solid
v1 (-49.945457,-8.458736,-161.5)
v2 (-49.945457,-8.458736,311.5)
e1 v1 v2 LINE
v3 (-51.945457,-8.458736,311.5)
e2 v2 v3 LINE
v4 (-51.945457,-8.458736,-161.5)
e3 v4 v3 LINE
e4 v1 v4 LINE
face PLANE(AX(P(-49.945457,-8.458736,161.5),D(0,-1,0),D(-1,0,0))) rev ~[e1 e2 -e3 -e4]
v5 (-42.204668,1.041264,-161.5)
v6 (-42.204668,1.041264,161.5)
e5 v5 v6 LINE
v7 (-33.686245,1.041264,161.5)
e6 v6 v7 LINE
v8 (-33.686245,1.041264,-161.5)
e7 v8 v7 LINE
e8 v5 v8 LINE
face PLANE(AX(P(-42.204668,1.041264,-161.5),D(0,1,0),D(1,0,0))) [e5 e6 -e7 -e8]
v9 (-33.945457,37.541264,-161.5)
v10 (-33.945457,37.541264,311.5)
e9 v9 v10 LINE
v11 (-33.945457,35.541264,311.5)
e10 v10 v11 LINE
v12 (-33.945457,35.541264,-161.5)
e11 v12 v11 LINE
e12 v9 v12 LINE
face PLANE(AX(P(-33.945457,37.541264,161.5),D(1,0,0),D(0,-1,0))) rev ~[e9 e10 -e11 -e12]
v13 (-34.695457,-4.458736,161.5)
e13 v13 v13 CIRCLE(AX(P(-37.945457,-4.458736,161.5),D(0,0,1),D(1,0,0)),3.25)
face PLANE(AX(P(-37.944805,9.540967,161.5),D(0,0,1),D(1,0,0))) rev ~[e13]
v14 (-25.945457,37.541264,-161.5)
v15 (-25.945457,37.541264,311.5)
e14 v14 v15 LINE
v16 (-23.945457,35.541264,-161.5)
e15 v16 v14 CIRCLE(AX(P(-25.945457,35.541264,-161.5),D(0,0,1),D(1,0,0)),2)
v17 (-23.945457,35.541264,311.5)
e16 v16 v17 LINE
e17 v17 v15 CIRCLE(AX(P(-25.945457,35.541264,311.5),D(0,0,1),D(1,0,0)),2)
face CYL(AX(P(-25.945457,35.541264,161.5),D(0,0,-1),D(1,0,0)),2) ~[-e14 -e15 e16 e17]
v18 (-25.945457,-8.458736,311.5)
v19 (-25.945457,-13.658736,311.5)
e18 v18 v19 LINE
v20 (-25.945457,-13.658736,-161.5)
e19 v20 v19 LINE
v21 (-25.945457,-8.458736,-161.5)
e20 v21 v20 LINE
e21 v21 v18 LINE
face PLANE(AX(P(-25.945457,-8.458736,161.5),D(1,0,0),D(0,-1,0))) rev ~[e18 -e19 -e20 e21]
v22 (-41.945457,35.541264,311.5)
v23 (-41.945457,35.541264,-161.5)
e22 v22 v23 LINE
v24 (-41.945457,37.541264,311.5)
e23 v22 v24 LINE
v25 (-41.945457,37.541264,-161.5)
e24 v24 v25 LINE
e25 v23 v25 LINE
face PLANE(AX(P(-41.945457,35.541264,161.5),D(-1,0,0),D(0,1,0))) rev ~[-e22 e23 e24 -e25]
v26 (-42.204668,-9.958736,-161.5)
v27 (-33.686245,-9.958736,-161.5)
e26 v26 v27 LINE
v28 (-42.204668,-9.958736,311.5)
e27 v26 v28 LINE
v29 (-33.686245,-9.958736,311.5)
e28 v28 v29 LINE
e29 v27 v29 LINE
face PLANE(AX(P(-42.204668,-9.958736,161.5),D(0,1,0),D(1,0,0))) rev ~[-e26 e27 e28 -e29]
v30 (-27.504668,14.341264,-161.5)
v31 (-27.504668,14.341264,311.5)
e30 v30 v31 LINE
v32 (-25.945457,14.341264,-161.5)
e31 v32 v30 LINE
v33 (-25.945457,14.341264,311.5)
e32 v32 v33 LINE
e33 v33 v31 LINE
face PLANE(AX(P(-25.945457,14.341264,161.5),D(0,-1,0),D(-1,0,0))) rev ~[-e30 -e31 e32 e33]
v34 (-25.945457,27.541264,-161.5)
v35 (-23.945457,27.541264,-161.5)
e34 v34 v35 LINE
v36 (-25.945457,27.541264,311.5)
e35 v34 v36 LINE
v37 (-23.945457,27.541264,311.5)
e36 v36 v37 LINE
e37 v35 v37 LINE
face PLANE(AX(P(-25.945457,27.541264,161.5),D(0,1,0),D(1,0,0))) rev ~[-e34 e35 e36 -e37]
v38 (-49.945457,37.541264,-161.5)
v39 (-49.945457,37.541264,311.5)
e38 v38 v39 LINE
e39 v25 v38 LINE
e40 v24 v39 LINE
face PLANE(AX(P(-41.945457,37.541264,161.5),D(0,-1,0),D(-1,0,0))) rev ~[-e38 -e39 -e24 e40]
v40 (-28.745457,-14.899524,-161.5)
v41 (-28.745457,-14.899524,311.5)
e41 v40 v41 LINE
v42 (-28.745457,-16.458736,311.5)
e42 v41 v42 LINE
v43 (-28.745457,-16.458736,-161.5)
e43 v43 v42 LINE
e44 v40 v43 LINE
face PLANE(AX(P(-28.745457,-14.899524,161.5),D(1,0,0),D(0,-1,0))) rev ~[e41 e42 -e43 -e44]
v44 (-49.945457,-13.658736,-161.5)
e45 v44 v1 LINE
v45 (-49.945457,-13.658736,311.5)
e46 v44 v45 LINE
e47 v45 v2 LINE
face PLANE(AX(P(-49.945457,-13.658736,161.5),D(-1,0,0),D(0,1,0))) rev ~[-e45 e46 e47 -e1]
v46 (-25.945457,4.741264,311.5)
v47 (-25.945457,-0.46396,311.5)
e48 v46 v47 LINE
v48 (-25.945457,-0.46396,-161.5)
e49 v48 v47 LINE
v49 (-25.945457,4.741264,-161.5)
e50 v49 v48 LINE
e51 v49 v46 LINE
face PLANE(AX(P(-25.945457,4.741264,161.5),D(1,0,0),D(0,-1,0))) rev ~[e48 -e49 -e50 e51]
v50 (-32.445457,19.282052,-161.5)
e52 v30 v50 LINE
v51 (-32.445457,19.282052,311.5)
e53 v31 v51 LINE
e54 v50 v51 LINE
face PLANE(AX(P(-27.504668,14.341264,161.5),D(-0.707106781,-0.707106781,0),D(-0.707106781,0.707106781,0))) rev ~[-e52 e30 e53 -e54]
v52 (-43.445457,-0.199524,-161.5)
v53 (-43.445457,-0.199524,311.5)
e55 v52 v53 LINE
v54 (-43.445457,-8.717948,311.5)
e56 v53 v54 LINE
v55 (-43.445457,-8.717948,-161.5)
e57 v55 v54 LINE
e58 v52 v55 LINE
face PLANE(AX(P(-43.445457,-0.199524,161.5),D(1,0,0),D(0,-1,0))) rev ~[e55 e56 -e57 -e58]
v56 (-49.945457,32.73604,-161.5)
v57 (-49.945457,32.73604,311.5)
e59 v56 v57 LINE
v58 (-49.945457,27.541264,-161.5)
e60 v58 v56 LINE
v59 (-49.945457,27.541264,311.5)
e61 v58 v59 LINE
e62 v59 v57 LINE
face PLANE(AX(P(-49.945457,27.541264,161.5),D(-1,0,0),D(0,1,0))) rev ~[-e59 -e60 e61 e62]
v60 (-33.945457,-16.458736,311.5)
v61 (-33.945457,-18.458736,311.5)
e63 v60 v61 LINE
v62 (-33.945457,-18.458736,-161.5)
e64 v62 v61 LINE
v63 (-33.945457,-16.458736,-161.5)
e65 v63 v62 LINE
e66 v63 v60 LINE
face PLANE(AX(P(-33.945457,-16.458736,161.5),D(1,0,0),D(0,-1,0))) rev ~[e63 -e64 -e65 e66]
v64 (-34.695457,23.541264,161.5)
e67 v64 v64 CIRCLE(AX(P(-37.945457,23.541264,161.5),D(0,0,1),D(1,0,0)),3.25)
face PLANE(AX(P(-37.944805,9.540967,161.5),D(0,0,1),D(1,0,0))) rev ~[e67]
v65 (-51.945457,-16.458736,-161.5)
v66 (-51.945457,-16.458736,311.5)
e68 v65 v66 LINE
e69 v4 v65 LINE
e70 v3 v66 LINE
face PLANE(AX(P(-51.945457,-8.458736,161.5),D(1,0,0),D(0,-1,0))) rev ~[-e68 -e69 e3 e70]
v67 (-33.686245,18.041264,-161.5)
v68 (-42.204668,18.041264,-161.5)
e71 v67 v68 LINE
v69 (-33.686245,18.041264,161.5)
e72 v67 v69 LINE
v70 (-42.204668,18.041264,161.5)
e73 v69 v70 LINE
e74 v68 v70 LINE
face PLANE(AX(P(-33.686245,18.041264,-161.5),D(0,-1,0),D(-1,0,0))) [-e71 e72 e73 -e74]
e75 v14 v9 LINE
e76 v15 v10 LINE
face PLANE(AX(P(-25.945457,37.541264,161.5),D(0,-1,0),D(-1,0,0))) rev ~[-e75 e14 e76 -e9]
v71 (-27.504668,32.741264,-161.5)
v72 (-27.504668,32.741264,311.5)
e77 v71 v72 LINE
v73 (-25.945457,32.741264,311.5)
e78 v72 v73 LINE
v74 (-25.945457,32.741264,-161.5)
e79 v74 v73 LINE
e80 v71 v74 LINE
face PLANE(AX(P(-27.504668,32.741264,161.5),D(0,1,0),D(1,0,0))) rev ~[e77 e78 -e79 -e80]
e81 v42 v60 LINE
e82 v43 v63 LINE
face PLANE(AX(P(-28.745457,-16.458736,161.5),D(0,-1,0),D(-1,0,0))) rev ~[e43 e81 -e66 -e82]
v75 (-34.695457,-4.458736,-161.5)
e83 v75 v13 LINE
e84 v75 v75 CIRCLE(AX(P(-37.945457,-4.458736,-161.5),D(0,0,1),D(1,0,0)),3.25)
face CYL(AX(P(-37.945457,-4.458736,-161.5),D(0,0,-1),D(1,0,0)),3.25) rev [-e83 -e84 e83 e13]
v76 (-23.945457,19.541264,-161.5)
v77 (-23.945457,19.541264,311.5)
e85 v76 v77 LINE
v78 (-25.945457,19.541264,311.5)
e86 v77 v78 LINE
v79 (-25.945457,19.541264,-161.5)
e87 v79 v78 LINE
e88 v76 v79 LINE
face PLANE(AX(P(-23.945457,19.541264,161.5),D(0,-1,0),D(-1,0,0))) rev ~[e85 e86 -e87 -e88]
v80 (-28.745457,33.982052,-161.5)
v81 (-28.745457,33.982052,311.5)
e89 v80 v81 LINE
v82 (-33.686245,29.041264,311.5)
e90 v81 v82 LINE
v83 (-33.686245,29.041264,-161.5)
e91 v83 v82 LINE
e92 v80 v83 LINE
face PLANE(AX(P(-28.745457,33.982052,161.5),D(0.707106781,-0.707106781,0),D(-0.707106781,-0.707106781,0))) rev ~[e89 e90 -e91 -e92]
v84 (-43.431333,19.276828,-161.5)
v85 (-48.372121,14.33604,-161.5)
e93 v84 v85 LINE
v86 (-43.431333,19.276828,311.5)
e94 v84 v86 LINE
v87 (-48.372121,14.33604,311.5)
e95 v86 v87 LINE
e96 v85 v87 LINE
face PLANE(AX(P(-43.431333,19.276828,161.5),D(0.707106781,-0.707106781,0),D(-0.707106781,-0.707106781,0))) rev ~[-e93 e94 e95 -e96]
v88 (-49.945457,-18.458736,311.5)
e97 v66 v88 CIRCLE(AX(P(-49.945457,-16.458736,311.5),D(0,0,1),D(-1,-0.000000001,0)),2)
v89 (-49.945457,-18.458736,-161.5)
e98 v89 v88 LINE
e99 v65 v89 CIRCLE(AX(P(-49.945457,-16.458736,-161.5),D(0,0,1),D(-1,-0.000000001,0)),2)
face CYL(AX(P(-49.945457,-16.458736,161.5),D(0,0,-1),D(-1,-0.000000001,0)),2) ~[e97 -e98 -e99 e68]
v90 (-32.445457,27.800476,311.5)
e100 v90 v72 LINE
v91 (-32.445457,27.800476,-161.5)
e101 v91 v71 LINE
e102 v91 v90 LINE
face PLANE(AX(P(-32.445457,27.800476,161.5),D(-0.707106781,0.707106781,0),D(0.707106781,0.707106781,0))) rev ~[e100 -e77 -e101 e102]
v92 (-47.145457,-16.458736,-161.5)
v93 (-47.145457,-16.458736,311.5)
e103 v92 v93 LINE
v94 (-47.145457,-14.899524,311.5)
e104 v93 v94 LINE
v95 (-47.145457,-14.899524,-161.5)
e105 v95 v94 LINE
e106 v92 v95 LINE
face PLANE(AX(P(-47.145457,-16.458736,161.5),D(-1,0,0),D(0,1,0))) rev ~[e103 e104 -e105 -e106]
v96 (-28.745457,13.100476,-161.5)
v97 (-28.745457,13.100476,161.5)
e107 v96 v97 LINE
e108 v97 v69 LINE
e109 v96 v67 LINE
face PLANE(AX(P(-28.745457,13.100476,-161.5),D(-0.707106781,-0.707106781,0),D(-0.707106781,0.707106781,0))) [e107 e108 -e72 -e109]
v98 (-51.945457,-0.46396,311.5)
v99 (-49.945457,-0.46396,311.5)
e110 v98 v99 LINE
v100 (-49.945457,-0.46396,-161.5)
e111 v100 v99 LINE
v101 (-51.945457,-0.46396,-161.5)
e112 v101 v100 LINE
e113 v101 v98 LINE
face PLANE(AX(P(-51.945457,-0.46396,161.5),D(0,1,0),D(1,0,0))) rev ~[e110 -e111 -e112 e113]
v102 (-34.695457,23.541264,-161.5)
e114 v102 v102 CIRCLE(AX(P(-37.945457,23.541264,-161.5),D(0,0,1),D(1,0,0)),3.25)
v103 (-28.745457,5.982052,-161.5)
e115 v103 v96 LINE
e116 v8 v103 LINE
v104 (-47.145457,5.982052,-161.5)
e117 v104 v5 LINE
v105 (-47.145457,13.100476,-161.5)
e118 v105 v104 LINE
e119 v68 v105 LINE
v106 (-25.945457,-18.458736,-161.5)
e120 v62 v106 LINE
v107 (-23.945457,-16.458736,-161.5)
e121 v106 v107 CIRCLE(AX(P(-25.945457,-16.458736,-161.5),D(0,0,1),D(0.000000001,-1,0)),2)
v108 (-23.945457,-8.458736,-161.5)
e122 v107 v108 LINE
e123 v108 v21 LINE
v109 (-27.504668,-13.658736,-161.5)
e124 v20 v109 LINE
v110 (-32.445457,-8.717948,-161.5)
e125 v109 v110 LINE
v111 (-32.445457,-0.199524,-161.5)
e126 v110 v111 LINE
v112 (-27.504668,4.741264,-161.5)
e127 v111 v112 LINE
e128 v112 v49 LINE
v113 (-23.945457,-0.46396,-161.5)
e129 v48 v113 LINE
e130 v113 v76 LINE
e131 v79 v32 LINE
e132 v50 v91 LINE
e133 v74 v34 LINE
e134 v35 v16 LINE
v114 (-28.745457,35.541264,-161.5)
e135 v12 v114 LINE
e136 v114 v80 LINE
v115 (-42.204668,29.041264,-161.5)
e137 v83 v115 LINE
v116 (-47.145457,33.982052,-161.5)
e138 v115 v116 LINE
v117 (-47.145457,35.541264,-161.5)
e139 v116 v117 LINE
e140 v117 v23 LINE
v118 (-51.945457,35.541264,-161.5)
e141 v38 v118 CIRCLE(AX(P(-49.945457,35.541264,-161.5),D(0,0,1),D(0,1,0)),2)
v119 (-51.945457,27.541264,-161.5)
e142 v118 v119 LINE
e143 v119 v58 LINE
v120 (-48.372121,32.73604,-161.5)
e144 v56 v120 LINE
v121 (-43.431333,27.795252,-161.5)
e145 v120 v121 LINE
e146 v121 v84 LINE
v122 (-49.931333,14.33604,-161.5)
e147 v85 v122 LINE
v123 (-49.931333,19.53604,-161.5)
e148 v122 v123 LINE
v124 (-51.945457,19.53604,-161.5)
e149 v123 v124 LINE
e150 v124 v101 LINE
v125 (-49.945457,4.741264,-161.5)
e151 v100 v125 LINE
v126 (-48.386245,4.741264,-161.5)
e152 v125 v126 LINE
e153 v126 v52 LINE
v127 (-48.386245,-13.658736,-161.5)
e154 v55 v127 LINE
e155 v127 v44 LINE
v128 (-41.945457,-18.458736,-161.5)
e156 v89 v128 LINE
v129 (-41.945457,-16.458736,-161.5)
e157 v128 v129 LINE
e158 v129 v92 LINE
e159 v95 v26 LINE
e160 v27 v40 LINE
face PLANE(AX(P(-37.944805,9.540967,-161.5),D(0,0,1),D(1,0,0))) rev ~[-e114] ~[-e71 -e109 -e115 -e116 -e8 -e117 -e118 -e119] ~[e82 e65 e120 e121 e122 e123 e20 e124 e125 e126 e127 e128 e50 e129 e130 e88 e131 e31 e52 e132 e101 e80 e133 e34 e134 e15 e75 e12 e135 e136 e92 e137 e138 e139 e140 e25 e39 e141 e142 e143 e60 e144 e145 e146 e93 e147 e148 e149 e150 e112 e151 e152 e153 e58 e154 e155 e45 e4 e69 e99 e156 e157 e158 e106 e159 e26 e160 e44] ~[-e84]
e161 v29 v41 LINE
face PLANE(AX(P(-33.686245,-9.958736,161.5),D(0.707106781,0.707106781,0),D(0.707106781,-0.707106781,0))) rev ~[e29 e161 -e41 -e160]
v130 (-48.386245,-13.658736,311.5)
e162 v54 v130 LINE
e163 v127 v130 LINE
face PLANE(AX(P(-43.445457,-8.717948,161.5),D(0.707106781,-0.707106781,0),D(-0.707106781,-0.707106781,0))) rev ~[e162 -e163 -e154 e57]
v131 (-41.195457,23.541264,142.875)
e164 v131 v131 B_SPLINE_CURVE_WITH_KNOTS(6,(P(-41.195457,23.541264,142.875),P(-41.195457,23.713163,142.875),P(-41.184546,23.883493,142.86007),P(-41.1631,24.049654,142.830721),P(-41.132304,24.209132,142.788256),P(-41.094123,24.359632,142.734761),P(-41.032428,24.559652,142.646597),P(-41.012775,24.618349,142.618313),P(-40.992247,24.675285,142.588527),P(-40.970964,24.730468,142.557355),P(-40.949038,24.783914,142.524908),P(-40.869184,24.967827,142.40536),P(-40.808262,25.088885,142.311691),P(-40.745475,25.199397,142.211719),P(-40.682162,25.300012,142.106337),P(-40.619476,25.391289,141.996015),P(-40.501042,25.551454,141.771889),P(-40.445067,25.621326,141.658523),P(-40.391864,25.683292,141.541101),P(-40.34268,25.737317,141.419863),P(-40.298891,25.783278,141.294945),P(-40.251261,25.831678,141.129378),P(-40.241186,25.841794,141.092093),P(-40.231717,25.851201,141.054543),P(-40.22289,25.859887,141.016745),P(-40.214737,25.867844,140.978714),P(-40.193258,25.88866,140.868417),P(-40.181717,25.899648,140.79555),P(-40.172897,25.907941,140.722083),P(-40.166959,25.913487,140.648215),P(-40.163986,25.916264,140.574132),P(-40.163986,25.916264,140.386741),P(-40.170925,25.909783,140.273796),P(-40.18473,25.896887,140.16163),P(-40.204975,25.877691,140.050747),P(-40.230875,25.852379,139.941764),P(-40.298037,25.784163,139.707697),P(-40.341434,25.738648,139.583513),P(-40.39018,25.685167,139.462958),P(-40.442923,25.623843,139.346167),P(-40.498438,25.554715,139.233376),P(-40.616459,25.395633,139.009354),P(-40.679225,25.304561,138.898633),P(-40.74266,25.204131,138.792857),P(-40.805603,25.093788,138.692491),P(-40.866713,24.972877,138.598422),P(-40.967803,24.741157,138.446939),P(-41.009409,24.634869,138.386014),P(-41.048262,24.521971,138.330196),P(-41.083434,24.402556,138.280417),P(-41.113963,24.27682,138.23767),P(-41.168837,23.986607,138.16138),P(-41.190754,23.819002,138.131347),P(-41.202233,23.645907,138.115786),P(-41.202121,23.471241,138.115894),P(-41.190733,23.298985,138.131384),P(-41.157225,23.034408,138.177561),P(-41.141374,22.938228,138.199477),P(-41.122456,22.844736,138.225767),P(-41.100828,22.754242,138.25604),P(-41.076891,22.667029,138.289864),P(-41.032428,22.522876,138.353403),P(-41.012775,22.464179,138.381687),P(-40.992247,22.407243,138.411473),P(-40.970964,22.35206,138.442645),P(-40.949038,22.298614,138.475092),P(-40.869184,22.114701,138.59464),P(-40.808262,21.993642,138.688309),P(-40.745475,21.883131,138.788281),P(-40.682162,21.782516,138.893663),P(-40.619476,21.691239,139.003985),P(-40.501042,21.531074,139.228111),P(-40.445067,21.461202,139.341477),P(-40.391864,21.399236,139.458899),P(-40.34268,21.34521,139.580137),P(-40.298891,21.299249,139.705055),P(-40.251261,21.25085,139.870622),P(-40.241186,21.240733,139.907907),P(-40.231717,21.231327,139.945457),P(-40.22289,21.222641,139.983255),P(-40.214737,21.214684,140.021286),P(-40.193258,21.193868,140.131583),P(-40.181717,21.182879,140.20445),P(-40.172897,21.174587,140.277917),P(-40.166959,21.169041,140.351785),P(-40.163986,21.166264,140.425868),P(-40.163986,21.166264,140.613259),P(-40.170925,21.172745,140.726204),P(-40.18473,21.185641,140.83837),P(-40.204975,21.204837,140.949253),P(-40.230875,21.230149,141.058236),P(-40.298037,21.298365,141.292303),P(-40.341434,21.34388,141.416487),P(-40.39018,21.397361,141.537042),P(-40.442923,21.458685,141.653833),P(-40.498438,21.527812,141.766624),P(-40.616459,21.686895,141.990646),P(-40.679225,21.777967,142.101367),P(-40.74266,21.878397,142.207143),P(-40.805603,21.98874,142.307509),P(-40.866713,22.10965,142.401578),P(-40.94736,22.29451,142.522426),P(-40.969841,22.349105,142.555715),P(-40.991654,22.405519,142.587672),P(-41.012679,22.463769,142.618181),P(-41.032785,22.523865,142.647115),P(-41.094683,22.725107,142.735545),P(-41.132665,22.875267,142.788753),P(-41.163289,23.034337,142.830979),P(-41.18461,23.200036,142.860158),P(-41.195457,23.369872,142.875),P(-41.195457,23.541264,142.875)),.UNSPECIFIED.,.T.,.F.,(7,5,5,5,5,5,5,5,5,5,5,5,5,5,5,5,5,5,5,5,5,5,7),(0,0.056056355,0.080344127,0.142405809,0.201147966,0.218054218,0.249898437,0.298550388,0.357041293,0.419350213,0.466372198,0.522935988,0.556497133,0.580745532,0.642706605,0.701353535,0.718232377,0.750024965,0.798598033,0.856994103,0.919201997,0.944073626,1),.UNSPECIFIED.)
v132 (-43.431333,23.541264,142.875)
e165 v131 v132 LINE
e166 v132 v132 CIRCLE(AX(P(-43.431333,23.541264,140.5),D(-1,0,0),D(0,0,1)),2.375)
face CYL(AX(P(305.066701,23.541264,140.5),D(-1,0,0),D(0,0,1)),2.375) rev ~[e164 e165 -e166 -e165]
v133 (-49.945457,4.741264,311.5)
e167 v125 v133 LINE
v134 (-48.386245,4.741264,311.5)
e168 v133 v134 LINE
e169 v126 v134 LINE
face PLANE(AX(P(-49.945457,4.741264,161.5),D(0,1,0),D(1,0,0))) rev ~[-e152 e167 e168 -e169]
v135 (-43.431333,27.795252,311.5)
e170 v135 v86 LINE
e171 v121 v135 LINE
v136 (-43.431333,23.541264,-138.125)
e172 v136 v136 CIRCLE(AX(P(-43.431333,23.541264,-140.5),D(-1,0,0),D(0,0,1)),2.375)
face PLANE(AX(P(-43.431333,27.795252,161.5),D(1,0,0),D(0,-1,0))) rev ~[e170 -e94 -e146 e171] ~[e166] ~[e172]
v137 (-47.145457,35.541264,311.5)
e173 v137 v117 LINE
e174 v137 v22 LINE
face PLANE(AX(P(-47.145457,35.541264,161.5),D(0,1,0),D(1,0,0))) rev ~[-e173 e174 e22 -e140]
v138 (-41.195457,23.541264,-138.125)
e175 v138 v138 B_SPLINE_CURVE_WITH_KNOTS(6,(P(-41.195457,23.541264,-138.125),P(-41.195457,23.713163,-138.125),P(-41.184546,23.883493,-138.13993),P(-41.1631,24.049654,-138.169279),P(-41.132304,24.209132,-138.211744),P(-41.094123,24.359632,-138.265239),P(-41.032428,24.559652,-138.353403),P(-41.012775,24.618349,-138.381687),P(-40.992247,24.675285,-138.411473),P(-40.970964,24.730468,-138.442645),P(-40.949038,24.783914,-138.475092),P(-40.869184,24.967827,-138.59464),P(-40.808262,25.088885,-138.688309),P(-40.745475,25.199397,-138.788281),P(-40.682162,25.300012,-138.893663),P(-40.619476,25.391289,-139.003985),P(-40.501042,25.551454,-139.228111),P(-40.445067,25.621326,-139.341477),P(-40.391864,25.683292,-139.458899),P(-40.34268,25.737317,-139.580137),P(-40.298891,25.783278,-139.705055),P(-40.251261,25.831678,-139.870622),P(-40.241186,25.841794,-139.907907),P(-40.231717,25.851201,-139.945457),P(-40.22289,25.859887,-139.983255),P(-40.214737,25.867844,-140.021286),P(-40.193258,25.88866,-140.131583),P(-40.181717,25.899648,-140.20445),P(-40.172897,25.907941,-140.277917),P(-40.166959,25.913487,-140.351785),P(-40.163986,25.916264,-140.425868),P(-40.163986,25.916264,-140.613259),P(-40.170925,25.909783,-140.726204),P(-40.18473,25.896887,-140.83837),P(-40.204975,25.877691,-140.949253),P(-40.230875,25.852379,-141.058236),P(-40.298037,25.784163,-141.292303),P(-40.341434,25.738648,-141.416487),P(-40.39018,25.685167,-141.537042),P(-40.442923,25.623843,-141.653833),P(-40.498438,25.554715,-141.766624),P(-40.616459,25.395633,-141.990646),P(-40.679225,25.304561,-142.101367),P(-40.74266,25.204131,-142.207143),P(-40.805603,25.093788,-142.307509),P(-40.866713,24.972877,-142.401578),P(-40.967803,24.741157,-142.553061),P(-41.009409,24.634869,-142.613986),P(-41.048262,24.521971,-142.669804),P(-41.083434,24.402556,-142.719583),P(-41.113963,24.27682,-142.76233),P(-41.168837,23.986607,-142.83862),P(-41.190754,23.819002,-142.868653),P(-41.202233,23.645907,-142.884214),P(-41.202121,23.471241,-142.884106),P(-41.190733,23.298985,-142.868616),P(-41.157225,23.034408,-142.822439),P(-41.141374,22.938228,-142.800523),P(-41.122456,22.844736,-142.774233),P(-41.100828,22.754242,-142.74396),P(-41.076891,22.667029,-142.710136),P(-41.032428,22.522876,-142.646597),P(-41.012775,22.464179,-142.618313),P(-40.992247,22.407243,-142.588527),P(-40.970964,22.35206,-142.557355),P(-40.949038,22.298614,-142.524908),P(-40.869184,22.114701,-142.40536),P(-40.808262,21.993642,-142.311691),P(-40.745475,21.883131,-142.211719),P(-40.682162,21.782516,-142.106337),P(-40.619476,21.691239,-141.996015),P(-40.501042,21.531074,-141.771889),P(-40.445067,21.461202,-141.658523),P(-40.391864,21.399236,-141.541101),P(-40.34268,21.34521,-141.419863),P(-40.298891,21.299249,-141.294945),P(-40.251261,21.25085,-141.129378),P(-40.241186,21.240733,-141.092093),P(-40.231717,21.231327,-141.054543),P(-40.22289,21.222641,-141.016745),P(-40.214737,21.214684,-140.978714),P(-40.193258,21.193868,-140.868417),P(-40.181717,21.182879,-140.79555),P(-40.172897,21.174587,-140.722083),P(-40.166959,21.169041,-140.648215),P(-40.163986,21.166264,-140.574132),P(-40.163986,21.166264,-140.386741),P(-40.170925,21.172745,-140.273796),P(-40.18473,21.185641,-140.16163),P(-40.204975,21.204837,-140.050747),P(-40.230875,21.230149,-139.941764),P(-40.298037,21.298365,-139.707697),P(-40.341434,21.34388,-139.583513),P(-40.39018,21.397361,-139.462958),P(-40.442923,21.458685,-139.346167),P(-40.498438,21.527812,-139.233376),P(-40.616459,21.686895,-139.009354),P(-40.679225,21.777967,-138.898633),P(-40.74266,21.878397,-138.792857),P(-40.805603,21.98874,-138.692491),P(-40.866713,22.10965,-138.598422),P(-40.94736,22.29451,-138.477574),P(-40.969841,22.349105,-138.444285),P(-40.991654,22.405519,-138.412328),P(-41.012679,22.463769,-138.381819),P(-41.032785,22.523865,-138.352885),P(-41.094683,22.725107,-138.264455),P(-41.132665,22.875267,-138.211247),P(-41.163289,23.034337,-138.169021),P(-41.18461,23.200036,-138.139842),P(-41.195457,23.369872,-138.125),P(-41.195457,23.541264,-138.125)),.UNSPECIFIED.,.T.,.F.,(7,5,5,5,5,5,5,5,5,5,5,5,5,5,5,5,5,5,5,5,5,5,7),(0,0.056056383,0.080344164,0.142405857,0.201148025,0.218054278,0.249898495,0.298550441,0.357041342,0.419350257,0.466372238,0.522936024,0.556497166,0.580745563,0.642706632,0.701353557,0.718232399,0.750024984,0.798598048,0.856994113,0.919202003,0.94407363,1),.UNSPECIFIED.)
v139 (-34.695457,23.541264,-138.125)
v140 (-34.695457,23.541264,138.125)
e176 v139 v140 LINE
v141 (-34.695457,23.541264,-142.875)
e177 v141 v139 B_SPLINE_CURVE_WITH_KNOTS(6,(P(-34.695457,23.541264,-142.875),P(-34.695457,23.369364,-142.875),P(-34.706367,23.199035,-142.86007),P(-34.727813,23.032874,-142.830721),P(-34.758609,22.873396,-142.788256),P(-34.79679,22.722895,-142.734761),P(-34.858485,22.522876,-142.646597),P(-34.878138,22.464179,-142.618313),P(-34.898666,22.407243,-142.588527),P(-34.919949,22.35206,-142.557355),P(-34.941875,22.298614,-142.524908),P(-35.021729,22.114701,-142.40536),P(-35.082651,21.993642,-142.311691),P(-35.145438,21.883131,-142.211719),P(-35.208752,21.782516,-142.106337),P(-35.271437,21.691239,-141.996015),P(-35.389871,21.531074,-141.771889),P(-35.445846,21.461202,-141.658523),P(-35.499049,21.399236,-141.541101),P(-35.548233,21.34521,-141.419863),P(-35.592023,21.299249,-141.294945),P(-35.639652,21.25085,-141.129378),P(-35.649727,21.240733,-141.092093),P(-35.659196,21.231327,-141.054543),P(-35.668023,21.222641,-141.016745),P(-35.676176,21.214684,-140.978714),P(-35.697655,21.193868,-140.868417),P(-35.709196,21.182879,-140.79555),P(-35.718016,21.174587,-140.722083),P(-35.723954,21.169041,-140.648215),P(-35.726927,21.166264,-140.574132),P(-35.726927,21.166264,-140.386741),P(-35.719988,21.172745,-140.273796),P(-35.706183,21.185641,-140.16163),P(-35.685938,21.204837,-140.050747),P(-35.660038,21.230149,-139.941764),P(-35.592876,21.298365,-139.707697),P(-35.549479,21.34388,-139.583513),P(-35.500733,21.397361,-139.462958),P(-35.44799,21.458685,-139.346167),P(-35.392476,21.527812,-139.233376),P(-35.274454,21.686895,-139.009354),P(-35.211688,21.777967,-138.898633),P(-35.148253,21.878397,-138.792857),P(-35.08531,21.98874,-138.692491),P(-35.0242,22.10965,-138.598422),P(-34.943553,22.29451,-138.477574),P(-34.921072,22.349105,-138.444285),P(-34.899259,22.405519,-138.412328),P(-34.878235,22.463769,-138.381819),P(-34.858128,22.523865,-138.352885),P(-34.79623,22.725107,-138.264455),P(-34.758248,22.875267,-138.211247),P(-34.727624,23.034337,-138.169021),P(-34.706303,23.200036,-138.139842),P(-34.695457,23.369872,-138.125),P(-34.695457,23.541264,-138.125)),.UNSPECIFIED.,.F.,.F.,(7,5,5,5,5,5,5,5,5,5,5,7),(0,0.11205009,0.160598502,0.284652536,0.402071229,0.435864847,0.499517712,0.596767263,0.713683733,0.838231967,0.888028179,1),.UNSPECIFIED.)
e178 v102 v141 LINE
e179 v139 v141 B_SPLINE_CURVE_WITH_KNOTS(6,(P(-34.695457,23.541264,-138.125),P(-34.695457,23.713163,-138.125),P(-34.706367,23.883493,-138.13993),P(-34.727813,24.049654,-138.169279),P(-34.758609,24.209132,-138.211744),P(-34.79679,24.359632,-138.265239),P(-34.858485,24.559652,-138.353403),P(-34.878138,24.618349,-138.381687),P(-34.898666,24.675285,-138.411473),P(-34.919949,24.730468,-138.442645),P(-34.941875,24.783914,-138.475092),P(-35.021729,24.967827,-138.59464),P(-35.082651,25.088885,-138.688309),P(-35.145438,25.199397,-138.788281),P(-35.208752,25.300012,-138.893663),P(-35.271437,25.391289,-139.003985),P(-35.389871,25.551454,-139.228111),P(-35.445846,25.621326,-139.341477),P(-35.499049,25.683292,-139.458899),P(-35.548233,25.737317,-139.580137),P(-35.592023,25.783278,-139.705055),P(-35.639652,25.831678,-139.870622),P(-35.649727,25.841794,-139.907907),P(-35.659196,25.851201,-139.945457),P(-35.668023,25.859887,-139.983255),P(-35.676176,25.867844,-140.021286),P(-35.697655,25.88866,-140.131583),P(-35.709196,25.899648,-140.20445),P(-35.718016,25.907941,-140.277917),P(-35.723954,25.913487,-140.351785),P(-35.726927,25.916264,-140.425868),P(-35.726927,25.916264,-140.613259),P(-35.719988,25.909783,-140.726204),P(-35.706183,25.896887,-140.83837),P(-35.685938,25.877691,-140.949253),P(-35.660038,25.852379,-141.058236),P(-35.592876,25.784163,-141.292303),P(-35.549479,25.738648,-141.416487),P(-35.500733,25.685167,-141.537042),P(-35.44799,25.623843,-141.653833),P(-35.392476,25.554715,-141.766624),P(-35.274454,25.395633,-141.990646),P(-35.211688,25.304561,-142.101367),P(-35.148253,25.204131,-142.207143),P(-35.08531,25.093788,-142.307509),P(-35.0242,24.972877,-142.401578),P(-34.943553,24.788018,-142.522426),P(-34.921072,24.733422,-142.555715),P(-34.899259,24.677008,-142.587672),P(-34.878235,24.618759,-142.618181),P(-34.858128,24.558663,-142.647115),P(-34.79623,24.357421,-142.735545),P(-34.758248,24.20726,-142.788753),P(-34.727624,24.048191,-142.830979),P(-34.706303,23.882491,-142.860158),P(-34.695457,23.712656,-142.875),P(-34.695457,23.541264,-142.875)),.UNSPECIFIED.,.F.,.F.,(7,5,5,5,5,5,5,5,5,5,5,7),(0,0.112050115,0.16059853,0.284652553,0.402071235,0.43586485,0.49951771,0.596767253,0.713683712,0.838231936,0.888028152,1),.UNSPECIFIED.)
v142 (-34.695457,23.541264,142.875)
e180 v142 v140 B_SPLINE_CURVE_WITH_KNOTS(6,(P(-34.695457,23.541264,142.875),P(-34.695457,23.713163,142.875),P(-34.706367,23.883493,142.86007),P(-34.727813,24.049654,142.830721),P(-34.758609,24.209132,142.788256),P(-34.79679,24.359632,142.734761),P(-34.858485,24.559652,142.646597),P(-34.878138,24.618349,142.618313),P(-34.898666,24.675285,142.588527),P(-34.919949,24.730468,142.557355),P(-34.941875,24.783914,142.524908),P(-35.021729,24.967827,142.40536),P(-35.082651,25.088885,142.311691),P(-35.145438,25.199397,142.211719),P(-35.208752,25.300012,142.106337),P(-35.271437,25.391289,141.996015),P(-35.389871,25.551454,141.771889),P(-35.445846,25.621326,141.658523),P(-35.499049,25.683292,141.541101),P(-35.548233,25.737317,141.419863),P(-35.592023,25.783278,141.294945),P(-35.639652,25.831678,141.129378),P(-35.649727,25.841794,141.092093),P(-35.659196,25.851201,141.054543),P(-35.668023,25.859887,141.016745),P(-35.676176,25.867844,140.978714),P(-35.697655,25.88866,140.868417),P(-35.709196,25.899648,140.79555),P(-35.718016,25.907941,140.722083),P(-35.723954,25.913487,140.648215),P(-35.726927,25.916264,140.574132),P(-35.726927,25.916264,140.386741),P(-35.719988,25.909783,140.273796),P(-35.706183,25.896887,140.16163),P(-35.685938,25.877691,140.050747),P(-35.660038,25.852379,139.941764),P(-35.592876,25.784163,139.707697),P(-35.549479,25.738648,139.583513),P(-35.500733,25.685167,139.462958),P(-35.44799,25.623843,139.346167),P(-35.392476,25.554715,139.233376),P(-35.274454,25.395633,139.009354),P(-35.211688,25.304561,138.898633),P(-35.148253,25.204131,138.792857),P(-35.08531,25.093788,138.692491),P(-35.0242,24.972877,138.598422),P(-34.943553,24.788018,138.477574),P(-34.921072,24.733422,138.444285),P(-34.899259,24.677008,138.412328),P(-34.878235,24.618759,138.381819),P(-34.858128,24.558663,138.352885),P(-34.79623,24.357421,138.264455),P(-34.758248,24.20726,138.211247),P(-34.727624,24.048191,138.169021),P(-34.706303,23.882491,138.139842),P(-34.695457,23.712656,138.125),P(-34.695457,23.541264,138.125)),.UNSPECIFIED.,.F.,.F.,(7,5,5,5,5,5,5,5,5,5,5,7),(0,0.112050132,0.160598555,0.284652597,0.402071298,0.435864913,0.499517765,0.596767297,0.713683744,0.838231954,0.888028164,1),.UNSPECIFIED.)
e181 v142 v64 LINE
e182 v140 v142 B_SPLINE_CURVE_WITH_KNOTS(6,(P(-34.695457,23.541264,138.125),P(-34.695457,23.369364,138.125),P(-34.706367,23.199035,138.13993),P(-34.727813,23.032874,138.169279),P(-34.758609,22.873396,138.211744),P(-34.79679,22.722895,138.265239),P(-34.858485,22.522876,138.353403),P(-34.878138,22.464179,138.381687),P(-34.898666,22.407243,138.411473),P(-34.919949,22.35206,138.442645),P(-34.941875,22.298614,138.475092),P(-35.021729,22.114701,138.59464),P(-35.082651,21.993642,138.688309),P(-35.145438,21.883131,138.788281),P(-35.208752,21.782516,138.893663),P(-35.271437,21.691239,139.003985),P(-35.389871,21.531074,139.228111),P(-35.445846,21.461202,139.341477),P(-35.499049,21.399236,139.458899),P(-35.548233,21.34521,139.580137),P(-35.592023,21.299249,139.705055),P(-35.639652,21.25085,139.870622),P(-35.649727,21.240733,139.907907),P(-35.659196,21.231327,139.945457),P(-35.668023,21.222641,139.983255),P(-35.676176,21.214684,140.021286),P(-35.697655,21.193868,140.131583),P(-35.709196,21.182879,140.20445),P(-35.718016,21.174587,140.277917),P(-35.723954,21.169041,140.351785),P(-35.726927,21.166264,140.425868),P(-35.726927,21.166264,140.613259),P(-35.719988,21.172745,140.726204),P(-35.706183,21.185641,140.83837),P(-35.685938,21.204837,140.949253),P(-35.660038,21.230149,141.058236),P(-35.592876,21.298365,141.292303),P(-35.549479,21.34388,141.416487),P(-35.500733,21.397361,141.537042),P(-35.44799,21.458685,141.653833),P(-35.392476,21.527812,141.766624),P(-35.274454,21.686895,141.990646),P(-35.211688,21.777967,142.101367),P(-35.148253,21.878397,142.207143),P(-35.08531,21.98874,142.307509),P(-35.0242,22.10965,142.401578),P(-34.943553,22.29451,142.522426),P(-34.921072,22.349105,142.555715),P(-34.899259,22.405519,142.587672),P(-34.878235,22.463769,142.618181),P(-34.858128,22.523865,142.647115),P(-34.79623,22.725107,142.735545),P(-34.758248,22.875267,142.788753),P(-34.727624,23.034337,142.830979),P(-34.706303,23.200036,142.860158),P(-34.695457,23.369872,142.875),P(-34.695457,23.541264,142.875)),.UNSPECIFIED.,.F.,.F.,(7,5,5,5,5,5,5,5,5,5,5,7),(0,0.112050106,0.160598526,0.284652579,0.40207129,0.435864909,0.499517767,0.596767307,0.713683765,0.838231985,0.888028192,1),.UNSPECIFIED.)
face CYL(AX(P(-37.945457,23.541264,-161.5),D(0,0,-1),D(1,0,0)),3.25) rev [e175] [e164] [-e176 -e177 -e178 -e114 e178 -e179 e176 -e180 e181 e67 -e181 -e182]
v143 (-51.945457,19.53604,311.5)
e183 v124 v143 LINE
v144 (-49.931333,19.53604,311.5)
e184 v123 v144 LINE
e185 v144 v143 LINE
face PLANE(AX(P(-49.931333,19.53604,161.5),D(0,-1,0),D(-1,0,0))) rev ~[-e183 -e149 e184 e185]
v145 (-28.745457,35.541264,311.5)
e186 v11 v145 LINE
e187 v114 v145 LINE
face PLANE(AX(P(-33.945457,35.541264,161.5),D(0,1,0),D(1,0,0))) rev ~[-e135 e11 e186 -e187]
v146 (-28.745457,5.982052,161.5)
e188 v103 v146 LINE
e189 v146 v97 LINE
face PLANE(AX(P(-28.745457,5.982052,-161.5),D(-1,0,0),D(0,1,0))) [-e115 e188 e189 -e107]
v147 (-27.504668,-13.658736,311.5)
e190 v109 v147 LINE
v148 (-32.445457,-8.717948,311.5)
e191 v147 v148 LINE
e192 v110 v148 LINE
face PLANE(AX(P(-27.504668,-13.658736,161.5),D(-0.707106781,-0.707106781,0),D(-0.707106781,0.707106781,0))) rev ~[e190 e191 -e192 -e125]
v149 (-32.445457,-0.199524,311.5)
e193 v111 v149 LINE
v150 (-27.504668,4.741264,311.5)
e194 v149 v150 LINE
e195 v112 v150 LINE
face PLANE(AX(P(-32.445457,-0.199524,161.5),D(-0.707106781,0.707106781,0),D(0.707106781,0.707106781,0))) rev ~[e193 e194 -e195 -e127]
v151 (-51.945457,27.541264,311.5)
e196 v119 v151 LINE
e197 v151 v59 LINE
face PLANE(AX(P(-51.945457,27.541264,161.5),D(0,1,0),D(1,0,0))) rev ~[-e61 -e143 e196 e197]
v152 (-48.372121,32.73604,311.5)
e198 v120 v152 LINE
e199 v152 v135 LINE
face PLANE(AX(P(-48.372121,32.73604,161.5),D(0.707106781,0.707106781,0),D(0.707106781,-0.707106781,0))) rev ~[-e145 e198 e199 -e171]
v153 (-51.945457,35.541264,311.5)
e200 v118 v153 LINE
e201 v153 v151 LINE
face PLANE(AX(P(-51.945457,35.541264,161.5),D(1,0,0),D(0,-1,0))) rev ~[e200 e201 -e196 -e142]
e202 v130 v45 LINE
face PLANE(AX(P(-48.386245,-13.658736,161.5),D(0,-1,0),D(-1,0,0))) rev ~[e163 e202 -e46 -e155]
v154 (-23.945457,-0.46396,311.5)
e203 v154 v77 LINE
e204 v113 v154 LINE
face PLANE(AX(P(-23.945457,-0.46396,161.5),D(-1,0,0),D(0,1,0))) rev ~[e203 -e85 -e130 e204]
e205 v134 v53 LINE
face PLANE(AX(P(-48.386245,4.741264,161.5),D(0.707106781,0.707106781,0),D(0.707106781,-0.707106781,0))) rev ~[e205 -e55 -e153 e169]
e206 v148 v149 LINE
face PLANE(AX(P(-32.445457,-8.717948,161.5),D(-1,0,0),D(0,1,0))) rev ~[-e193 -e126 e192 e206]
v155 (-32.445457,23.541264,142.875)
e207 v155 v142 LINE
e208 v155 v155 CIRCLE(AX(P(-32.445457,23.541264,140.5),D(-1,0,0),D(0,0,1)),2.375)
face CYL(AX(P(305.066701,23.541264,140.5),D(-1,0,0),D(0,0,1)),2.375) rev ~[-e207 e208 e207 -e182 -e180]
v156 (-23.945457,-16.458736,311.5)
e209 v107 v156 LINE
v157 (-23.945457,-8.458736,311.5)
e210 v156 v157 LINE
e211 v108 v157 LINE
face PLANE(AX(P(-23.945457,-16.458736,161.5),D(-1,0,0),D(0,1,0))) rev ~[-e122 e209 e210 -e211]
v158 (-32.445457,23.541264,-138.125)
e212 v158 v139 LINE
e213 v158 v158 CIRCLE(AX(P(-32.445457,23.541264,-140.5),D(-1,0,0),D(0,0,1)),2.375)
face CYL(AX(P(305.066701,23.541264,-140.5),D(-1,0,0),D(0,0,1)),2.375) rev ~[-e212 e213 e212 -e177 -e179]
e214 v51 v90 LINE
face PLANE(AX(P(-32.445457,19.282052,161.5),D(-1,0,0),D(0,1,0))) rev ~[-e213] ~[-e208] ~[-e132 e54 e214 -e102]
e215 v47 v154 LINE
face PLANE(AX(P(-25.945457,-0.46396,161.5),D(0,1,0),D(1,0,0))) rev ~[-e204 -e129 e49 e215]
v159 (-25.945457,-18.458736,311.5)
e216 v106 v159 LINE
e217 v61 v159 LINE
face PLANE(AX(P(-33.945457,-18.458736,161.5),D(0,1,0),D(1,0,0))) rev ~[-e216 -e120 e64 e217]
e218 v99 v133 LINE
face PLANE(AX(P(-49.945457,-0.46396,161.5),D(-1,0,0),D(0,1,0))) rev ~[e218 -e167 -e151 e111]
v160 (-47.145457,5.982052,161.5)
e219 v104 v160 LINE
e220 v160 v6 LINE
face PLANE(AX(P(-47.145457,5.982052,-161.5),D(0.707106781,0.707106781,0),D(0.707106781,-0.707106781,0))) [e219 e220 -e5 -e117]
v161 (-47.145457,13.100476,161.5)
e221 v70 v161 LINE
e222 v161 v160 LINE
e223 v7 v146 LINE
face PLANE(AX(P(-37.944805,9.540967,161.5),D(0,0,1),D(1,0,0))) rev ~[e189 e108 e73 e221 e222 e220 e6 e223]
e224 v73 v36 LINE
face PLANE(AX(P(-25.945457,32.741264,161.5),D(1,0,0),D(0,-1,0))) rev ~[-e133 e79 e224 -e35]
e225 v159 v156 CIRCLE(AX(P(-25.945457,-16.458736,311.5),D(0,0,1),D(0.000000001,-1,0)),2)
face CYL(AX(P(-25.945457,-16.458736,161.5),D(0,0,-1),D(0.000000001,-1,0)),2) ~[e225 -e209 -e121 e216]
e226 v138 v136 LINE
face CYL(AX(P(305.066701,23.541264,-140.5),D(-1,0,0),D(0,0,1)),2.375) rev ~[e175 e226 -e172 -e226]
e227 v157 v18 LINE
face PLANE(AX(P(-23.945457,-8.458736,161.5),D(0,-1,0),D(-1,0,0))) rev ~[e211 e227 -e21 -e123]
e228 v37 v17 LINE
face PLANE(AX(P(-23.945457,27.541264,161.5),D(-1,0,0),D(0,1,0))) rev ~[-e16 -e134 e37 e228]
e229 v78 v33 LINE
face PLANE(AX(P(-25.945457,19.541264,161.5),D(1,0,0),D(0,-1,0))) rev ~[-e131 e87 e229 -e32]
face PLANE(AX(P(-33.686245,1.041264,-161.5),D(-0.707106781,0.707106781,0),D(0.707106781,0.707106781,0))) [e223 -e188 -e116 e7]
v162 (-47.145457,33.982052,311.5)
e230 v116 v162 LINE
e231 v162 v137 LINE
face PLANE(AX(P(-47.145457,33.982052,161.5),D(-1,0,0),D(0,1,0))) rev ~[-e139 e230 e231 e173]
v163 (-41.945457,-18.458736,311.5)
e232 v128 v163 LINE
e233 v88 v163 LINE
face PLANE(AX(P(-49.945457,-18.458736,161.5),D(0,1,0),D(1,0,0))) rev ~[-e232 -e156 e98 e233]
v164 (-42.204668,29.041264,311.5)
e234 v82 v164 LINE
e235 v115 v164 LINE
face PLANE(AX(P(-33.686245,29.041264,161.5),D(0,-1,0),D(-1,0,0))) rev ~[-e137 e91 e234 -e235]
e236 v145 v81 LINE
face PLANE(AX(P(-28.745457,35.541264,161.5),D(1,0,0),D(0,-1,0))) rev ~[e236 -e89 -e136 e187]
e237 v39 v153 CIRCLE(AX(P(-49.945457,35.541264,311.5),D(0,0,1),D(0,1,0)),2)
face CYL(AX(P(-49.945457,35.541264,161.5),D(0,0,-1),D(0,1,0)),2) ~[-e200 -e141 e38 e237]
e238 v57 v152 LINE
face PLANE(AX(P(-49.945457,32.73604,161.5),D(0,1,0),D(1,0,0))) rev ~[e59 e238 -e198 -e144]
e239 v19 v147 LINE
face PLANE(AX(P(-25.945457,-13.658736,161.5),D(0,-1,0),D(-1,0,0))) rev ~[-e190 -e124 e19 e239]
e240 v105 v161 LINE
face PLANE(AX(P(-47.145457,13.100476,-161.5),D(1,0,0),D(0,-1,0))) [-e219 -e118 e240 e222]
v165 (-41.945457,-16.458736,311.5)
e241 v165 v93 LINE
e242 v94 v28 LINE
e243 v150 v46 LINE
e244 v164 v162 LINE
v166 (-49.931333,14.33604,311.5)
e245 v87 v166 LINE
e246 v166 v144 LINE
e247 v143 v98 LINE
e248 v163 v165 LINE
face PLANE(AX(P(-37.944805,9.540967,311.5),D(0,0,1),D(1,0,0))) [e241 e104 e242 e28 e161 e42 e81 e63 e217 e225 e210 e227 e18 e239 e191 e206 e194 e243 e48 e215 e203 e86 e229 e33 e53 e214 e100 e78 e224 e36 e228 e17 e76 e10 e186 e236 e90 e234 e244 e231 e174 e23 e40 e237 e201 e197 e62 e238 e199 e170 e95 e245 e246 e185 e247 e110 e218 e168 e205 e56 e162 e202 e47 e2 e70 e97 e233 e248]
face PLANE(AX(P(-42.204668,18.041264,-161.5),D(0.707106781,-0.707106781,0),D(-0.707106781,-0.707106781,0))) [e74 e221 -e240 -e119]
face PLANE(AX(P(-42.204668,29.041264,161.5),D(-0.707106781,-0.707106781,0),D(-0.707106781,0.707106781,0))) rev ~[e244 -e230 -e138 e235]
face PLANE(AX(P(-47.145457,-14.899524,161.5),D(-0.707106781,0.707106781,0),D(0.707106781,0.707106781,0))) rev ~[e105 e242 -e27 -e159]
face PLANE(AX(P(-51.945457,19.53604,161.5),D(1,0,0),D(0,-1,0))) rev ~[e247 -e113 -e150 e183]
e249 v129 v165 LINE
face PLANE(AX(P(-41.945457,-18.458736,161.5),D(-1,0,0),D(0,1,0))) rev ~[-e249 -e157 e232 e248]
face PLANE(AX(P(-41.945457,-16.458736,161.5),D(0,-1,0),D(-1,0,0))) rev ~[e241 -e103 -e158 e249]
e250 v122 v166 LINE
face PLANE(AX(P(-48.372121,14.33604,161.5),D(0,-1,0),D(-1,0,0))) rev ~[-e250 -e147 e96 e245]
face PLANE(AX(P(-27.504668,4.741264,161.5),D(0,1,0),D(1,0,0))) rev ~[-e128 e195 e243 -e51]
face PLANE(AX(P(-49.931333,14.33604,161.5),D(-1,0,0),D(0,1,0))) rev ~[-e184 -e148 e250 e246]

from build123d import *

# Parameters (mm, degrees)
EXTRUSION2_DEPTH           = 161.5
EXTRUSION2_DEPTH_BACK      = 161.5
SKETCH1_R                  = 3.25
F_4_7_4_7_DIAMETER_HOLE1_D = 4.75
BOSS_EXTRUDE1_DEPTH        = 150


with BuildPart() as part:
    # Sketch1 → Extrusion2 (new, two sides: drawn at the far end of the back side and taken through both)
    with BuildSketch(Plane.XY.offset(-EXTRUSION2_DEPTH_BACK)):
        with BuildLine():
            Line((-51.945456549, 19.536039976), (-51.945456549, -0.463960024))
            Line((-51.945456549, -0.463960024), (-49.945456549, -0.463960024))
            Line((-49.945456549, -0.463960024), (-49.945456549, 4.741263919))
            Line((-49.945456549, 4.741263919), (-48.386244669, 4.741263919))
            Line((-48.386244669, 4.741263919), (-43.445456549, -0.1995242))
            Line((-43.445456549, -0.1995242), (-43.445456549, -8.717947961))
            Line((-43.445456549, -8.717947961), (-48.386244669, -13.658736081))
            Line((-48.386244669, -13.658736081), (-49.945456549, -13.658736081))
            Line((-49.945456549, -13.658736081), (-49.945456549, -8.458736081))
            Line((-49.945456549, -8.458736081), (-51.945456549, -8.458736081))
            Line((-51.945456549, -8.458736081), (-51.945456549, -16.458736081))
            ThreePointArc((-51.945456549, -16.458736081), (-51.359670111, -17.872949643), (-49.945456549, -18.458736081))
            Line((-49.945456549, -18.458736081), (-41.945456549, -18.458736081))
            Line((-41.945456549, -18.458736081), (-41.945456549, -16.458736081))
            Line((-41.945456549, -16.458736081), (-47.145456549, -16.458736081))
            Line((-47.145456549, -16.458736081), (-47.145456549, -14.8995242))
            Line((-47.145456549, -14.8995242), (-42.204668429, -9.958736081))
            Line((-42.204668429, -9.958736081), (-33.686244669, -9.958736081))
            Line((-33.686244669, -9.958736081), (-28.745456549, -14.8995242))
            Line((-28.745456549, -14.8995242), (-28.745456549, -16.458736081))
            Line((-28.745456549, -16.458736081), (-33.945456549, -16.458736081))
            Line((-33.945456549, -16.458736081), (-33.945456549, -18.458736081))
            Line((-33.945456549, -18.458736081), (-25.945456549, -18.458736081))
            ThreePointArc((-25.945456549, -18.458736081), (-24.531242987, -17.872949643), (-23.945456549, -16.458736081))
            Line((-23.945456549, -16.458736081), (-23.945456549, -8.458736081))
            Line((-23.945456549, -8.458736081), (-25.945456549, -8.458736081))
            Line((-25.945456549, -8.458736081), (-25.945456549, -13.658736081))
            Line((-25.945456549, -13.658736081), (-27.504668429, -13.658736081))
            Line((-27.504668429, -13.658736081), (-32.445456549, -8.717947961))
            Line((-32.445456549, -8.717947961), (-32.445456549, -0.1995242))
            Line((-32.445456549, -0.1995242), (-27.504668429, 4.741263919))
            Line((-27.504668429, 4.741263919), (-25.945456549, 4.741263919))
            Line((-25.945456549, 4.741263919), (-25.945456549, -0.463960024))
            Line((-25.945456549, -0.463960024), (-23.945456549, -0.463960024))
            Line((-23.945456549, -0.463960024), (-23.945456549, 19.541263919))
            Line((-23.945456549, 19.541263919), (-25.945456549, 19.541263919))
            Line((-25.945456549, 19.541263919), (-25.945456549, 14.341263919))
            Line((-25.945456549, 14.341263919), (-27.504668429, 14.341263919))
            Line((-27.504668429, 14.341263919), (-32.445456549, 19.282052039))
            Line((-32.445456549, 19.282052039), (-32.445456549, 27.8004758))
            Line((-32.445456549, 27.8004758), (-27.504668429, 32.741263919))
            Line((-27.504668429, 32.741263919), (-25.945456549, 32.741263919))
            Line((-25.945456549, 32.741263919), (-25.945456549, 27.541263919))
            Line((-25.945456549, 27.541263919), (-23.945456549, 27.541263919))
            Line((-23.945456549, 27.541263919), (-23.945456549, 35.541263919))
            ThreePointArc((-23.945456549, 35.541263919), (-24.531242987, 36.955477482), (-25.945456549, 37.541263919))
            Line((-25.945456549, 37.541263919), (-33.945456549, 37.541263919))
            Line((-33.945456549, 37.541263919), (-33.945456549, 35.541263919))
            Line((-33.945456549, 35.541263919), (-28.745456549, 35.541263919))
            Line((-28.745456549, 35.541263919), (-28.745456549, 33.982052039))
            Line((-28.745456549, 33.982052039), (-33.686244669, 29.041263919))
            Line((-33.686244669, 29.041263919), (-42.204668429, 29.041263919))
            Line((-42.204668429, 29.041263919), (-47.145456549, 33.982052039))
            Line((-47.145456549, 33.982052039), (-47.145456549, 35.541263919))
            Line((-47.145456549, 35.541263919), (-41.945456549, 35.541263919))
            Line((-41.945456549, 35.541263919), (-41.945456549, 37.541263919))
            Line((-41.945456549, 37.541263919), (-49.945456549, 37.541263919))
            ThreePointArc((-49.945456549, 37.541263919), (-51.359670111, 36.955477482), (-51.945456549, 35.541263919))
            Line((-51.945456549, 35.541263919), (-51.945456549, 27.541263919))
            Line((-51.945456549, 27.541263919), (-49.945456549, 27.541263919))
            Line((-49.945456549, 27.541263919), (-49.945456549, 32.736039976))
            Line((-49.945456549, 32.736039976), (-48.372120999, 32.736039976))
            Line((-48.372120999, 32.736039976), (-43.43133288, 27.795251856))
            Line((-43.43133288, 27.795251856), (-43.43133288, 19.276828096))
            Line((-43.43133288, 19.276828096), (-48.372120999, 14.336039976))
            Line((-48.372120999, 14.336039976), (-49.93133288, 14.336039976))
            Line((-49.93133288, 14.336039976), (-49.93133288, 19.536039976))
            Line((-49.93133288, 19.536039976), (-51.945456549, 19.536039976))
        make_face()
        with Locations((-37.945456549, -4.458736081)):
            Circle(SKETCH1_R, mode=Mode.SUBTRACT)
        with Locations((-37.945456549, 23.541263919)):
            Circle(SKETCH1_R, mode=Mode.SUBTRACT)
        Polygon((-33.686244669, 18.041263919), (-42.204668429, 18.041263919), (-47.145456549, 13.1004758), (-47.145456549, 5.982052039), (-42.204668429, 1.041263919), (-33.686244669, 1.041263919), (-28.745456549, 5.982052039), (-28.745456549, 13.1004758), align=None, mode=Mode.SUBTRACT)
    extrude(amount=EXTRUSION2_DEPTH + EXTRUSION2_DEPTH_BACK)

    # Ø4.7 (4.7) Diameter Hole1 (through all)
    with Locations(Plane(origin=(-23.945456549, 0, 0), x_dir=(0, 0, -1), z_dir=(1, 0, 0))):
        with Locations((-140.5, 23.541263919), (140.5, 23.541263919)):
            Hole(F_4_7_4_7_DIAMETER_HOLE1_D / 2)

    # Sketch5 → Boss-Extrude1 (add)
    with BuildSketch(Plane.XY.offset(161.5)):
        with BuildLine():
            Line((-41.945456549, 37.541263919), (-49.945456549, 37.541263919))
            ThreePointArc((-49.945456549, 37.541263919), (-51.359670111, 36.955477482), (-51.945456549, 35.541263919))
            Line((-51.945456549, 35.541263919), (-51.945456549, 27.541263919))
            Line((-51.945456549, 27.541263919), (-49.945456549, 27.541263919))
            Line((-49.945456549, 27.541263919), (-49.945456549, 32.736039976))
            Line((-49.945456549, 32.736039976), (-48.372120999, 32.736039976))
            Line((-48.372120999, 32.736039976), (-43.43133288, 27.795251856))
            Line((-43.43133288, 27.795251856), (-43.43133288, 19.276828096))
            Line((-43.43133288, 19.276828096), (-48.372120999, 14.336039976))
            Line((-48.372120999, 14.336039976), (-49.93133288, 14.336039976))
            Line((-49.93133288, 14.336039976), (-49.93133288, 19.536039976))
            Line((-49.93133288, 19.536039976), (-51.945456549, 19.536039976))
            Line((-51.945456549, 19.536039976), (-51.945456549, -0.463960024))
            Line((-51.945456549, -0.463960024), (-49.945456549, -0.463960024))
            Line((-49.945456549, -0.463960024), (-49.945456549, 4.741263919))
            Line((-49.945456549, 4.741263919), (-48.386244669, 4.741263919))
            Line((-48.386244669, 4.741263919), (-43.445456549, -0.1995242))
            Line((-43.445456549, -0.1995242), (-43.445456549, -8.717947961))
            Line((-43.445456549, -8.717947961), (-48.386244669, -13.658736081))
            Line((-48.386244669, -13.658736081), (-49.945456549, -13.658736081))
            Line((-49.945456549, -13.658736081), (-49.945456549, -8.458736081))
            Line((-49.945456549, -8.458736081), (-51.945456549, -8.458736081))
            Line((-51.945456549, -8.458736081), (-51.945456549, -16.458736081))
            ThreePointArc((-51.945456549, -16.458736081), (-51.359670111, -17.872949643), (-49.945456549, -18.458736081))
            Line((-49.945456549, -18.458736081), (-41.945456549, -18.458736081))
            Line((-41.945456549, -18.458736081), (-41.945456549, -16.458736081))
            Line((-41.945456549, -16.458736081), (-47.145456549, -16.458736081))
            Line((-47.145456549, -16.458736081), (-47.145456549, -14.8995242))
            Line((-47.145456549, -14.8995242), (-42.204668429, -9.958736081))
            Line((-42.204668429, -9.958736081), (-33.686244669, -9.958736081))
            Line((-33.686244669, -9.958736081), (-28.745456549, -14.8995242))
            Line((-28.745456549, -14.8995242), (-28.745456549, -16.458736081))
            Line((-28.745456549, -16.458736081), (-33.945456549, -16.458736081))
            Line((-33.945456549, -16.458736081), (-33.945456549, -18.458736081))
            Line((-33.945456549, -18.458736081), (-25.945456549, -18.458736081))
            ThreePointArc((-25.945456549, -18.458736081), (-24.531242987, -17.872949643), (-23.945456549, -16.458736081))
            Line((-23.945456549, -16.458736081), (-23.945456549, -8.458736081))
            Line((-23.945456549, -8.458736081), (-25.945456549, -8.458736081))
            Line((-25.945456549, -8.458736081), (-25.945456549, -13.658736081))
            Line((-25.945456549, -13.658736081), (-27.504668429, -13.658736081))
            Line((-27.504668429, -13.658736081), (-32.445456549, -8.717947961))
            Line((-32.445456549, -8.717947961), (-32.445456549, -0.1995242))
            Line((-32.445456549, -0.1995242), (-27.504668429, 4.741263919))
            Line((-27.504668429, 4.741263919), (-25.945456549, 4.741263919))
            Line((-25.945456549, 4.741263919), (-25.945456549, -0.463960024))
            Line((-25.945456549, -0.463960024), (-23.945456549, -0.463960024))
            Line((-23.945456549, -0.463960024), (-23.945456549, 19.541263919))
            Line((-23.945456549, 19.541263919), (-25.945456549, 19.541263919))
            Line((-25.945456549, 19.541263919), (-25.945456549, 14.341263919))
            Line((-25.945456549, 14.341263919), (-27.504668429, 14.341263919))
            Line((-27.504668429, 14.341263919), (-32.445456549, 19.282052039))
            Line((-32.445456549, 19.282052039), (-32.445456549, 27.8004758))
            Line((-32.445456549, 27.8004758), (-27.504668429, 32.741263919))
            Line((-27.504668429, 32.741263919), (-25.945456549, 32.741263919))
            Line((-25.945456549, 32.741263919), (-25.945456549, 27.541263919))
            Line((-25.945456549, 27.541263919), (-23.945456549, 27.541263919))
            Line((-23.945456549, 27.541263919), (-23.945456549, 35.541263919))
            ThreePointArc((-23.945456549, 35.541263919), (-24.531242987, 36.955477482), (-25.945456549, 37.541263919))
            Line((-25.945456549, 37.541263919), (-33.945456549, 37.541263919))
            Line((-33.945456549, 37.541263919), (-33.945456549, 35.541263919))
            Line((-33.945456549, 35.541263919), (-28.745456549, 35.541263919))
            Line((-28.745456549, 35.541263919), (-28.745456549, 33.982052039))
            Line((-28.745456549, 33.982052039), (-33.686244669, 29.041263919))
            Line((-33.686244669, 29.041263919), (-42.204668429, 29.041263919))
            Line((-42.204668429, 29.041263919), (-47.145456549, 33.982052039))
            Line((-47.145456549, 33.982052039), (-47.145456549, 35.541263919))
            Line((-47.145456549, 35.541263919), (-41.945456549, 35.541263919))
            Line((-41.945456549, 35.541263919), (-41.945456549, 37.541263919))
        make_face()
    extrude(amount=BOSS_EXTRUDE1_DEPTH)


solid = part.part
